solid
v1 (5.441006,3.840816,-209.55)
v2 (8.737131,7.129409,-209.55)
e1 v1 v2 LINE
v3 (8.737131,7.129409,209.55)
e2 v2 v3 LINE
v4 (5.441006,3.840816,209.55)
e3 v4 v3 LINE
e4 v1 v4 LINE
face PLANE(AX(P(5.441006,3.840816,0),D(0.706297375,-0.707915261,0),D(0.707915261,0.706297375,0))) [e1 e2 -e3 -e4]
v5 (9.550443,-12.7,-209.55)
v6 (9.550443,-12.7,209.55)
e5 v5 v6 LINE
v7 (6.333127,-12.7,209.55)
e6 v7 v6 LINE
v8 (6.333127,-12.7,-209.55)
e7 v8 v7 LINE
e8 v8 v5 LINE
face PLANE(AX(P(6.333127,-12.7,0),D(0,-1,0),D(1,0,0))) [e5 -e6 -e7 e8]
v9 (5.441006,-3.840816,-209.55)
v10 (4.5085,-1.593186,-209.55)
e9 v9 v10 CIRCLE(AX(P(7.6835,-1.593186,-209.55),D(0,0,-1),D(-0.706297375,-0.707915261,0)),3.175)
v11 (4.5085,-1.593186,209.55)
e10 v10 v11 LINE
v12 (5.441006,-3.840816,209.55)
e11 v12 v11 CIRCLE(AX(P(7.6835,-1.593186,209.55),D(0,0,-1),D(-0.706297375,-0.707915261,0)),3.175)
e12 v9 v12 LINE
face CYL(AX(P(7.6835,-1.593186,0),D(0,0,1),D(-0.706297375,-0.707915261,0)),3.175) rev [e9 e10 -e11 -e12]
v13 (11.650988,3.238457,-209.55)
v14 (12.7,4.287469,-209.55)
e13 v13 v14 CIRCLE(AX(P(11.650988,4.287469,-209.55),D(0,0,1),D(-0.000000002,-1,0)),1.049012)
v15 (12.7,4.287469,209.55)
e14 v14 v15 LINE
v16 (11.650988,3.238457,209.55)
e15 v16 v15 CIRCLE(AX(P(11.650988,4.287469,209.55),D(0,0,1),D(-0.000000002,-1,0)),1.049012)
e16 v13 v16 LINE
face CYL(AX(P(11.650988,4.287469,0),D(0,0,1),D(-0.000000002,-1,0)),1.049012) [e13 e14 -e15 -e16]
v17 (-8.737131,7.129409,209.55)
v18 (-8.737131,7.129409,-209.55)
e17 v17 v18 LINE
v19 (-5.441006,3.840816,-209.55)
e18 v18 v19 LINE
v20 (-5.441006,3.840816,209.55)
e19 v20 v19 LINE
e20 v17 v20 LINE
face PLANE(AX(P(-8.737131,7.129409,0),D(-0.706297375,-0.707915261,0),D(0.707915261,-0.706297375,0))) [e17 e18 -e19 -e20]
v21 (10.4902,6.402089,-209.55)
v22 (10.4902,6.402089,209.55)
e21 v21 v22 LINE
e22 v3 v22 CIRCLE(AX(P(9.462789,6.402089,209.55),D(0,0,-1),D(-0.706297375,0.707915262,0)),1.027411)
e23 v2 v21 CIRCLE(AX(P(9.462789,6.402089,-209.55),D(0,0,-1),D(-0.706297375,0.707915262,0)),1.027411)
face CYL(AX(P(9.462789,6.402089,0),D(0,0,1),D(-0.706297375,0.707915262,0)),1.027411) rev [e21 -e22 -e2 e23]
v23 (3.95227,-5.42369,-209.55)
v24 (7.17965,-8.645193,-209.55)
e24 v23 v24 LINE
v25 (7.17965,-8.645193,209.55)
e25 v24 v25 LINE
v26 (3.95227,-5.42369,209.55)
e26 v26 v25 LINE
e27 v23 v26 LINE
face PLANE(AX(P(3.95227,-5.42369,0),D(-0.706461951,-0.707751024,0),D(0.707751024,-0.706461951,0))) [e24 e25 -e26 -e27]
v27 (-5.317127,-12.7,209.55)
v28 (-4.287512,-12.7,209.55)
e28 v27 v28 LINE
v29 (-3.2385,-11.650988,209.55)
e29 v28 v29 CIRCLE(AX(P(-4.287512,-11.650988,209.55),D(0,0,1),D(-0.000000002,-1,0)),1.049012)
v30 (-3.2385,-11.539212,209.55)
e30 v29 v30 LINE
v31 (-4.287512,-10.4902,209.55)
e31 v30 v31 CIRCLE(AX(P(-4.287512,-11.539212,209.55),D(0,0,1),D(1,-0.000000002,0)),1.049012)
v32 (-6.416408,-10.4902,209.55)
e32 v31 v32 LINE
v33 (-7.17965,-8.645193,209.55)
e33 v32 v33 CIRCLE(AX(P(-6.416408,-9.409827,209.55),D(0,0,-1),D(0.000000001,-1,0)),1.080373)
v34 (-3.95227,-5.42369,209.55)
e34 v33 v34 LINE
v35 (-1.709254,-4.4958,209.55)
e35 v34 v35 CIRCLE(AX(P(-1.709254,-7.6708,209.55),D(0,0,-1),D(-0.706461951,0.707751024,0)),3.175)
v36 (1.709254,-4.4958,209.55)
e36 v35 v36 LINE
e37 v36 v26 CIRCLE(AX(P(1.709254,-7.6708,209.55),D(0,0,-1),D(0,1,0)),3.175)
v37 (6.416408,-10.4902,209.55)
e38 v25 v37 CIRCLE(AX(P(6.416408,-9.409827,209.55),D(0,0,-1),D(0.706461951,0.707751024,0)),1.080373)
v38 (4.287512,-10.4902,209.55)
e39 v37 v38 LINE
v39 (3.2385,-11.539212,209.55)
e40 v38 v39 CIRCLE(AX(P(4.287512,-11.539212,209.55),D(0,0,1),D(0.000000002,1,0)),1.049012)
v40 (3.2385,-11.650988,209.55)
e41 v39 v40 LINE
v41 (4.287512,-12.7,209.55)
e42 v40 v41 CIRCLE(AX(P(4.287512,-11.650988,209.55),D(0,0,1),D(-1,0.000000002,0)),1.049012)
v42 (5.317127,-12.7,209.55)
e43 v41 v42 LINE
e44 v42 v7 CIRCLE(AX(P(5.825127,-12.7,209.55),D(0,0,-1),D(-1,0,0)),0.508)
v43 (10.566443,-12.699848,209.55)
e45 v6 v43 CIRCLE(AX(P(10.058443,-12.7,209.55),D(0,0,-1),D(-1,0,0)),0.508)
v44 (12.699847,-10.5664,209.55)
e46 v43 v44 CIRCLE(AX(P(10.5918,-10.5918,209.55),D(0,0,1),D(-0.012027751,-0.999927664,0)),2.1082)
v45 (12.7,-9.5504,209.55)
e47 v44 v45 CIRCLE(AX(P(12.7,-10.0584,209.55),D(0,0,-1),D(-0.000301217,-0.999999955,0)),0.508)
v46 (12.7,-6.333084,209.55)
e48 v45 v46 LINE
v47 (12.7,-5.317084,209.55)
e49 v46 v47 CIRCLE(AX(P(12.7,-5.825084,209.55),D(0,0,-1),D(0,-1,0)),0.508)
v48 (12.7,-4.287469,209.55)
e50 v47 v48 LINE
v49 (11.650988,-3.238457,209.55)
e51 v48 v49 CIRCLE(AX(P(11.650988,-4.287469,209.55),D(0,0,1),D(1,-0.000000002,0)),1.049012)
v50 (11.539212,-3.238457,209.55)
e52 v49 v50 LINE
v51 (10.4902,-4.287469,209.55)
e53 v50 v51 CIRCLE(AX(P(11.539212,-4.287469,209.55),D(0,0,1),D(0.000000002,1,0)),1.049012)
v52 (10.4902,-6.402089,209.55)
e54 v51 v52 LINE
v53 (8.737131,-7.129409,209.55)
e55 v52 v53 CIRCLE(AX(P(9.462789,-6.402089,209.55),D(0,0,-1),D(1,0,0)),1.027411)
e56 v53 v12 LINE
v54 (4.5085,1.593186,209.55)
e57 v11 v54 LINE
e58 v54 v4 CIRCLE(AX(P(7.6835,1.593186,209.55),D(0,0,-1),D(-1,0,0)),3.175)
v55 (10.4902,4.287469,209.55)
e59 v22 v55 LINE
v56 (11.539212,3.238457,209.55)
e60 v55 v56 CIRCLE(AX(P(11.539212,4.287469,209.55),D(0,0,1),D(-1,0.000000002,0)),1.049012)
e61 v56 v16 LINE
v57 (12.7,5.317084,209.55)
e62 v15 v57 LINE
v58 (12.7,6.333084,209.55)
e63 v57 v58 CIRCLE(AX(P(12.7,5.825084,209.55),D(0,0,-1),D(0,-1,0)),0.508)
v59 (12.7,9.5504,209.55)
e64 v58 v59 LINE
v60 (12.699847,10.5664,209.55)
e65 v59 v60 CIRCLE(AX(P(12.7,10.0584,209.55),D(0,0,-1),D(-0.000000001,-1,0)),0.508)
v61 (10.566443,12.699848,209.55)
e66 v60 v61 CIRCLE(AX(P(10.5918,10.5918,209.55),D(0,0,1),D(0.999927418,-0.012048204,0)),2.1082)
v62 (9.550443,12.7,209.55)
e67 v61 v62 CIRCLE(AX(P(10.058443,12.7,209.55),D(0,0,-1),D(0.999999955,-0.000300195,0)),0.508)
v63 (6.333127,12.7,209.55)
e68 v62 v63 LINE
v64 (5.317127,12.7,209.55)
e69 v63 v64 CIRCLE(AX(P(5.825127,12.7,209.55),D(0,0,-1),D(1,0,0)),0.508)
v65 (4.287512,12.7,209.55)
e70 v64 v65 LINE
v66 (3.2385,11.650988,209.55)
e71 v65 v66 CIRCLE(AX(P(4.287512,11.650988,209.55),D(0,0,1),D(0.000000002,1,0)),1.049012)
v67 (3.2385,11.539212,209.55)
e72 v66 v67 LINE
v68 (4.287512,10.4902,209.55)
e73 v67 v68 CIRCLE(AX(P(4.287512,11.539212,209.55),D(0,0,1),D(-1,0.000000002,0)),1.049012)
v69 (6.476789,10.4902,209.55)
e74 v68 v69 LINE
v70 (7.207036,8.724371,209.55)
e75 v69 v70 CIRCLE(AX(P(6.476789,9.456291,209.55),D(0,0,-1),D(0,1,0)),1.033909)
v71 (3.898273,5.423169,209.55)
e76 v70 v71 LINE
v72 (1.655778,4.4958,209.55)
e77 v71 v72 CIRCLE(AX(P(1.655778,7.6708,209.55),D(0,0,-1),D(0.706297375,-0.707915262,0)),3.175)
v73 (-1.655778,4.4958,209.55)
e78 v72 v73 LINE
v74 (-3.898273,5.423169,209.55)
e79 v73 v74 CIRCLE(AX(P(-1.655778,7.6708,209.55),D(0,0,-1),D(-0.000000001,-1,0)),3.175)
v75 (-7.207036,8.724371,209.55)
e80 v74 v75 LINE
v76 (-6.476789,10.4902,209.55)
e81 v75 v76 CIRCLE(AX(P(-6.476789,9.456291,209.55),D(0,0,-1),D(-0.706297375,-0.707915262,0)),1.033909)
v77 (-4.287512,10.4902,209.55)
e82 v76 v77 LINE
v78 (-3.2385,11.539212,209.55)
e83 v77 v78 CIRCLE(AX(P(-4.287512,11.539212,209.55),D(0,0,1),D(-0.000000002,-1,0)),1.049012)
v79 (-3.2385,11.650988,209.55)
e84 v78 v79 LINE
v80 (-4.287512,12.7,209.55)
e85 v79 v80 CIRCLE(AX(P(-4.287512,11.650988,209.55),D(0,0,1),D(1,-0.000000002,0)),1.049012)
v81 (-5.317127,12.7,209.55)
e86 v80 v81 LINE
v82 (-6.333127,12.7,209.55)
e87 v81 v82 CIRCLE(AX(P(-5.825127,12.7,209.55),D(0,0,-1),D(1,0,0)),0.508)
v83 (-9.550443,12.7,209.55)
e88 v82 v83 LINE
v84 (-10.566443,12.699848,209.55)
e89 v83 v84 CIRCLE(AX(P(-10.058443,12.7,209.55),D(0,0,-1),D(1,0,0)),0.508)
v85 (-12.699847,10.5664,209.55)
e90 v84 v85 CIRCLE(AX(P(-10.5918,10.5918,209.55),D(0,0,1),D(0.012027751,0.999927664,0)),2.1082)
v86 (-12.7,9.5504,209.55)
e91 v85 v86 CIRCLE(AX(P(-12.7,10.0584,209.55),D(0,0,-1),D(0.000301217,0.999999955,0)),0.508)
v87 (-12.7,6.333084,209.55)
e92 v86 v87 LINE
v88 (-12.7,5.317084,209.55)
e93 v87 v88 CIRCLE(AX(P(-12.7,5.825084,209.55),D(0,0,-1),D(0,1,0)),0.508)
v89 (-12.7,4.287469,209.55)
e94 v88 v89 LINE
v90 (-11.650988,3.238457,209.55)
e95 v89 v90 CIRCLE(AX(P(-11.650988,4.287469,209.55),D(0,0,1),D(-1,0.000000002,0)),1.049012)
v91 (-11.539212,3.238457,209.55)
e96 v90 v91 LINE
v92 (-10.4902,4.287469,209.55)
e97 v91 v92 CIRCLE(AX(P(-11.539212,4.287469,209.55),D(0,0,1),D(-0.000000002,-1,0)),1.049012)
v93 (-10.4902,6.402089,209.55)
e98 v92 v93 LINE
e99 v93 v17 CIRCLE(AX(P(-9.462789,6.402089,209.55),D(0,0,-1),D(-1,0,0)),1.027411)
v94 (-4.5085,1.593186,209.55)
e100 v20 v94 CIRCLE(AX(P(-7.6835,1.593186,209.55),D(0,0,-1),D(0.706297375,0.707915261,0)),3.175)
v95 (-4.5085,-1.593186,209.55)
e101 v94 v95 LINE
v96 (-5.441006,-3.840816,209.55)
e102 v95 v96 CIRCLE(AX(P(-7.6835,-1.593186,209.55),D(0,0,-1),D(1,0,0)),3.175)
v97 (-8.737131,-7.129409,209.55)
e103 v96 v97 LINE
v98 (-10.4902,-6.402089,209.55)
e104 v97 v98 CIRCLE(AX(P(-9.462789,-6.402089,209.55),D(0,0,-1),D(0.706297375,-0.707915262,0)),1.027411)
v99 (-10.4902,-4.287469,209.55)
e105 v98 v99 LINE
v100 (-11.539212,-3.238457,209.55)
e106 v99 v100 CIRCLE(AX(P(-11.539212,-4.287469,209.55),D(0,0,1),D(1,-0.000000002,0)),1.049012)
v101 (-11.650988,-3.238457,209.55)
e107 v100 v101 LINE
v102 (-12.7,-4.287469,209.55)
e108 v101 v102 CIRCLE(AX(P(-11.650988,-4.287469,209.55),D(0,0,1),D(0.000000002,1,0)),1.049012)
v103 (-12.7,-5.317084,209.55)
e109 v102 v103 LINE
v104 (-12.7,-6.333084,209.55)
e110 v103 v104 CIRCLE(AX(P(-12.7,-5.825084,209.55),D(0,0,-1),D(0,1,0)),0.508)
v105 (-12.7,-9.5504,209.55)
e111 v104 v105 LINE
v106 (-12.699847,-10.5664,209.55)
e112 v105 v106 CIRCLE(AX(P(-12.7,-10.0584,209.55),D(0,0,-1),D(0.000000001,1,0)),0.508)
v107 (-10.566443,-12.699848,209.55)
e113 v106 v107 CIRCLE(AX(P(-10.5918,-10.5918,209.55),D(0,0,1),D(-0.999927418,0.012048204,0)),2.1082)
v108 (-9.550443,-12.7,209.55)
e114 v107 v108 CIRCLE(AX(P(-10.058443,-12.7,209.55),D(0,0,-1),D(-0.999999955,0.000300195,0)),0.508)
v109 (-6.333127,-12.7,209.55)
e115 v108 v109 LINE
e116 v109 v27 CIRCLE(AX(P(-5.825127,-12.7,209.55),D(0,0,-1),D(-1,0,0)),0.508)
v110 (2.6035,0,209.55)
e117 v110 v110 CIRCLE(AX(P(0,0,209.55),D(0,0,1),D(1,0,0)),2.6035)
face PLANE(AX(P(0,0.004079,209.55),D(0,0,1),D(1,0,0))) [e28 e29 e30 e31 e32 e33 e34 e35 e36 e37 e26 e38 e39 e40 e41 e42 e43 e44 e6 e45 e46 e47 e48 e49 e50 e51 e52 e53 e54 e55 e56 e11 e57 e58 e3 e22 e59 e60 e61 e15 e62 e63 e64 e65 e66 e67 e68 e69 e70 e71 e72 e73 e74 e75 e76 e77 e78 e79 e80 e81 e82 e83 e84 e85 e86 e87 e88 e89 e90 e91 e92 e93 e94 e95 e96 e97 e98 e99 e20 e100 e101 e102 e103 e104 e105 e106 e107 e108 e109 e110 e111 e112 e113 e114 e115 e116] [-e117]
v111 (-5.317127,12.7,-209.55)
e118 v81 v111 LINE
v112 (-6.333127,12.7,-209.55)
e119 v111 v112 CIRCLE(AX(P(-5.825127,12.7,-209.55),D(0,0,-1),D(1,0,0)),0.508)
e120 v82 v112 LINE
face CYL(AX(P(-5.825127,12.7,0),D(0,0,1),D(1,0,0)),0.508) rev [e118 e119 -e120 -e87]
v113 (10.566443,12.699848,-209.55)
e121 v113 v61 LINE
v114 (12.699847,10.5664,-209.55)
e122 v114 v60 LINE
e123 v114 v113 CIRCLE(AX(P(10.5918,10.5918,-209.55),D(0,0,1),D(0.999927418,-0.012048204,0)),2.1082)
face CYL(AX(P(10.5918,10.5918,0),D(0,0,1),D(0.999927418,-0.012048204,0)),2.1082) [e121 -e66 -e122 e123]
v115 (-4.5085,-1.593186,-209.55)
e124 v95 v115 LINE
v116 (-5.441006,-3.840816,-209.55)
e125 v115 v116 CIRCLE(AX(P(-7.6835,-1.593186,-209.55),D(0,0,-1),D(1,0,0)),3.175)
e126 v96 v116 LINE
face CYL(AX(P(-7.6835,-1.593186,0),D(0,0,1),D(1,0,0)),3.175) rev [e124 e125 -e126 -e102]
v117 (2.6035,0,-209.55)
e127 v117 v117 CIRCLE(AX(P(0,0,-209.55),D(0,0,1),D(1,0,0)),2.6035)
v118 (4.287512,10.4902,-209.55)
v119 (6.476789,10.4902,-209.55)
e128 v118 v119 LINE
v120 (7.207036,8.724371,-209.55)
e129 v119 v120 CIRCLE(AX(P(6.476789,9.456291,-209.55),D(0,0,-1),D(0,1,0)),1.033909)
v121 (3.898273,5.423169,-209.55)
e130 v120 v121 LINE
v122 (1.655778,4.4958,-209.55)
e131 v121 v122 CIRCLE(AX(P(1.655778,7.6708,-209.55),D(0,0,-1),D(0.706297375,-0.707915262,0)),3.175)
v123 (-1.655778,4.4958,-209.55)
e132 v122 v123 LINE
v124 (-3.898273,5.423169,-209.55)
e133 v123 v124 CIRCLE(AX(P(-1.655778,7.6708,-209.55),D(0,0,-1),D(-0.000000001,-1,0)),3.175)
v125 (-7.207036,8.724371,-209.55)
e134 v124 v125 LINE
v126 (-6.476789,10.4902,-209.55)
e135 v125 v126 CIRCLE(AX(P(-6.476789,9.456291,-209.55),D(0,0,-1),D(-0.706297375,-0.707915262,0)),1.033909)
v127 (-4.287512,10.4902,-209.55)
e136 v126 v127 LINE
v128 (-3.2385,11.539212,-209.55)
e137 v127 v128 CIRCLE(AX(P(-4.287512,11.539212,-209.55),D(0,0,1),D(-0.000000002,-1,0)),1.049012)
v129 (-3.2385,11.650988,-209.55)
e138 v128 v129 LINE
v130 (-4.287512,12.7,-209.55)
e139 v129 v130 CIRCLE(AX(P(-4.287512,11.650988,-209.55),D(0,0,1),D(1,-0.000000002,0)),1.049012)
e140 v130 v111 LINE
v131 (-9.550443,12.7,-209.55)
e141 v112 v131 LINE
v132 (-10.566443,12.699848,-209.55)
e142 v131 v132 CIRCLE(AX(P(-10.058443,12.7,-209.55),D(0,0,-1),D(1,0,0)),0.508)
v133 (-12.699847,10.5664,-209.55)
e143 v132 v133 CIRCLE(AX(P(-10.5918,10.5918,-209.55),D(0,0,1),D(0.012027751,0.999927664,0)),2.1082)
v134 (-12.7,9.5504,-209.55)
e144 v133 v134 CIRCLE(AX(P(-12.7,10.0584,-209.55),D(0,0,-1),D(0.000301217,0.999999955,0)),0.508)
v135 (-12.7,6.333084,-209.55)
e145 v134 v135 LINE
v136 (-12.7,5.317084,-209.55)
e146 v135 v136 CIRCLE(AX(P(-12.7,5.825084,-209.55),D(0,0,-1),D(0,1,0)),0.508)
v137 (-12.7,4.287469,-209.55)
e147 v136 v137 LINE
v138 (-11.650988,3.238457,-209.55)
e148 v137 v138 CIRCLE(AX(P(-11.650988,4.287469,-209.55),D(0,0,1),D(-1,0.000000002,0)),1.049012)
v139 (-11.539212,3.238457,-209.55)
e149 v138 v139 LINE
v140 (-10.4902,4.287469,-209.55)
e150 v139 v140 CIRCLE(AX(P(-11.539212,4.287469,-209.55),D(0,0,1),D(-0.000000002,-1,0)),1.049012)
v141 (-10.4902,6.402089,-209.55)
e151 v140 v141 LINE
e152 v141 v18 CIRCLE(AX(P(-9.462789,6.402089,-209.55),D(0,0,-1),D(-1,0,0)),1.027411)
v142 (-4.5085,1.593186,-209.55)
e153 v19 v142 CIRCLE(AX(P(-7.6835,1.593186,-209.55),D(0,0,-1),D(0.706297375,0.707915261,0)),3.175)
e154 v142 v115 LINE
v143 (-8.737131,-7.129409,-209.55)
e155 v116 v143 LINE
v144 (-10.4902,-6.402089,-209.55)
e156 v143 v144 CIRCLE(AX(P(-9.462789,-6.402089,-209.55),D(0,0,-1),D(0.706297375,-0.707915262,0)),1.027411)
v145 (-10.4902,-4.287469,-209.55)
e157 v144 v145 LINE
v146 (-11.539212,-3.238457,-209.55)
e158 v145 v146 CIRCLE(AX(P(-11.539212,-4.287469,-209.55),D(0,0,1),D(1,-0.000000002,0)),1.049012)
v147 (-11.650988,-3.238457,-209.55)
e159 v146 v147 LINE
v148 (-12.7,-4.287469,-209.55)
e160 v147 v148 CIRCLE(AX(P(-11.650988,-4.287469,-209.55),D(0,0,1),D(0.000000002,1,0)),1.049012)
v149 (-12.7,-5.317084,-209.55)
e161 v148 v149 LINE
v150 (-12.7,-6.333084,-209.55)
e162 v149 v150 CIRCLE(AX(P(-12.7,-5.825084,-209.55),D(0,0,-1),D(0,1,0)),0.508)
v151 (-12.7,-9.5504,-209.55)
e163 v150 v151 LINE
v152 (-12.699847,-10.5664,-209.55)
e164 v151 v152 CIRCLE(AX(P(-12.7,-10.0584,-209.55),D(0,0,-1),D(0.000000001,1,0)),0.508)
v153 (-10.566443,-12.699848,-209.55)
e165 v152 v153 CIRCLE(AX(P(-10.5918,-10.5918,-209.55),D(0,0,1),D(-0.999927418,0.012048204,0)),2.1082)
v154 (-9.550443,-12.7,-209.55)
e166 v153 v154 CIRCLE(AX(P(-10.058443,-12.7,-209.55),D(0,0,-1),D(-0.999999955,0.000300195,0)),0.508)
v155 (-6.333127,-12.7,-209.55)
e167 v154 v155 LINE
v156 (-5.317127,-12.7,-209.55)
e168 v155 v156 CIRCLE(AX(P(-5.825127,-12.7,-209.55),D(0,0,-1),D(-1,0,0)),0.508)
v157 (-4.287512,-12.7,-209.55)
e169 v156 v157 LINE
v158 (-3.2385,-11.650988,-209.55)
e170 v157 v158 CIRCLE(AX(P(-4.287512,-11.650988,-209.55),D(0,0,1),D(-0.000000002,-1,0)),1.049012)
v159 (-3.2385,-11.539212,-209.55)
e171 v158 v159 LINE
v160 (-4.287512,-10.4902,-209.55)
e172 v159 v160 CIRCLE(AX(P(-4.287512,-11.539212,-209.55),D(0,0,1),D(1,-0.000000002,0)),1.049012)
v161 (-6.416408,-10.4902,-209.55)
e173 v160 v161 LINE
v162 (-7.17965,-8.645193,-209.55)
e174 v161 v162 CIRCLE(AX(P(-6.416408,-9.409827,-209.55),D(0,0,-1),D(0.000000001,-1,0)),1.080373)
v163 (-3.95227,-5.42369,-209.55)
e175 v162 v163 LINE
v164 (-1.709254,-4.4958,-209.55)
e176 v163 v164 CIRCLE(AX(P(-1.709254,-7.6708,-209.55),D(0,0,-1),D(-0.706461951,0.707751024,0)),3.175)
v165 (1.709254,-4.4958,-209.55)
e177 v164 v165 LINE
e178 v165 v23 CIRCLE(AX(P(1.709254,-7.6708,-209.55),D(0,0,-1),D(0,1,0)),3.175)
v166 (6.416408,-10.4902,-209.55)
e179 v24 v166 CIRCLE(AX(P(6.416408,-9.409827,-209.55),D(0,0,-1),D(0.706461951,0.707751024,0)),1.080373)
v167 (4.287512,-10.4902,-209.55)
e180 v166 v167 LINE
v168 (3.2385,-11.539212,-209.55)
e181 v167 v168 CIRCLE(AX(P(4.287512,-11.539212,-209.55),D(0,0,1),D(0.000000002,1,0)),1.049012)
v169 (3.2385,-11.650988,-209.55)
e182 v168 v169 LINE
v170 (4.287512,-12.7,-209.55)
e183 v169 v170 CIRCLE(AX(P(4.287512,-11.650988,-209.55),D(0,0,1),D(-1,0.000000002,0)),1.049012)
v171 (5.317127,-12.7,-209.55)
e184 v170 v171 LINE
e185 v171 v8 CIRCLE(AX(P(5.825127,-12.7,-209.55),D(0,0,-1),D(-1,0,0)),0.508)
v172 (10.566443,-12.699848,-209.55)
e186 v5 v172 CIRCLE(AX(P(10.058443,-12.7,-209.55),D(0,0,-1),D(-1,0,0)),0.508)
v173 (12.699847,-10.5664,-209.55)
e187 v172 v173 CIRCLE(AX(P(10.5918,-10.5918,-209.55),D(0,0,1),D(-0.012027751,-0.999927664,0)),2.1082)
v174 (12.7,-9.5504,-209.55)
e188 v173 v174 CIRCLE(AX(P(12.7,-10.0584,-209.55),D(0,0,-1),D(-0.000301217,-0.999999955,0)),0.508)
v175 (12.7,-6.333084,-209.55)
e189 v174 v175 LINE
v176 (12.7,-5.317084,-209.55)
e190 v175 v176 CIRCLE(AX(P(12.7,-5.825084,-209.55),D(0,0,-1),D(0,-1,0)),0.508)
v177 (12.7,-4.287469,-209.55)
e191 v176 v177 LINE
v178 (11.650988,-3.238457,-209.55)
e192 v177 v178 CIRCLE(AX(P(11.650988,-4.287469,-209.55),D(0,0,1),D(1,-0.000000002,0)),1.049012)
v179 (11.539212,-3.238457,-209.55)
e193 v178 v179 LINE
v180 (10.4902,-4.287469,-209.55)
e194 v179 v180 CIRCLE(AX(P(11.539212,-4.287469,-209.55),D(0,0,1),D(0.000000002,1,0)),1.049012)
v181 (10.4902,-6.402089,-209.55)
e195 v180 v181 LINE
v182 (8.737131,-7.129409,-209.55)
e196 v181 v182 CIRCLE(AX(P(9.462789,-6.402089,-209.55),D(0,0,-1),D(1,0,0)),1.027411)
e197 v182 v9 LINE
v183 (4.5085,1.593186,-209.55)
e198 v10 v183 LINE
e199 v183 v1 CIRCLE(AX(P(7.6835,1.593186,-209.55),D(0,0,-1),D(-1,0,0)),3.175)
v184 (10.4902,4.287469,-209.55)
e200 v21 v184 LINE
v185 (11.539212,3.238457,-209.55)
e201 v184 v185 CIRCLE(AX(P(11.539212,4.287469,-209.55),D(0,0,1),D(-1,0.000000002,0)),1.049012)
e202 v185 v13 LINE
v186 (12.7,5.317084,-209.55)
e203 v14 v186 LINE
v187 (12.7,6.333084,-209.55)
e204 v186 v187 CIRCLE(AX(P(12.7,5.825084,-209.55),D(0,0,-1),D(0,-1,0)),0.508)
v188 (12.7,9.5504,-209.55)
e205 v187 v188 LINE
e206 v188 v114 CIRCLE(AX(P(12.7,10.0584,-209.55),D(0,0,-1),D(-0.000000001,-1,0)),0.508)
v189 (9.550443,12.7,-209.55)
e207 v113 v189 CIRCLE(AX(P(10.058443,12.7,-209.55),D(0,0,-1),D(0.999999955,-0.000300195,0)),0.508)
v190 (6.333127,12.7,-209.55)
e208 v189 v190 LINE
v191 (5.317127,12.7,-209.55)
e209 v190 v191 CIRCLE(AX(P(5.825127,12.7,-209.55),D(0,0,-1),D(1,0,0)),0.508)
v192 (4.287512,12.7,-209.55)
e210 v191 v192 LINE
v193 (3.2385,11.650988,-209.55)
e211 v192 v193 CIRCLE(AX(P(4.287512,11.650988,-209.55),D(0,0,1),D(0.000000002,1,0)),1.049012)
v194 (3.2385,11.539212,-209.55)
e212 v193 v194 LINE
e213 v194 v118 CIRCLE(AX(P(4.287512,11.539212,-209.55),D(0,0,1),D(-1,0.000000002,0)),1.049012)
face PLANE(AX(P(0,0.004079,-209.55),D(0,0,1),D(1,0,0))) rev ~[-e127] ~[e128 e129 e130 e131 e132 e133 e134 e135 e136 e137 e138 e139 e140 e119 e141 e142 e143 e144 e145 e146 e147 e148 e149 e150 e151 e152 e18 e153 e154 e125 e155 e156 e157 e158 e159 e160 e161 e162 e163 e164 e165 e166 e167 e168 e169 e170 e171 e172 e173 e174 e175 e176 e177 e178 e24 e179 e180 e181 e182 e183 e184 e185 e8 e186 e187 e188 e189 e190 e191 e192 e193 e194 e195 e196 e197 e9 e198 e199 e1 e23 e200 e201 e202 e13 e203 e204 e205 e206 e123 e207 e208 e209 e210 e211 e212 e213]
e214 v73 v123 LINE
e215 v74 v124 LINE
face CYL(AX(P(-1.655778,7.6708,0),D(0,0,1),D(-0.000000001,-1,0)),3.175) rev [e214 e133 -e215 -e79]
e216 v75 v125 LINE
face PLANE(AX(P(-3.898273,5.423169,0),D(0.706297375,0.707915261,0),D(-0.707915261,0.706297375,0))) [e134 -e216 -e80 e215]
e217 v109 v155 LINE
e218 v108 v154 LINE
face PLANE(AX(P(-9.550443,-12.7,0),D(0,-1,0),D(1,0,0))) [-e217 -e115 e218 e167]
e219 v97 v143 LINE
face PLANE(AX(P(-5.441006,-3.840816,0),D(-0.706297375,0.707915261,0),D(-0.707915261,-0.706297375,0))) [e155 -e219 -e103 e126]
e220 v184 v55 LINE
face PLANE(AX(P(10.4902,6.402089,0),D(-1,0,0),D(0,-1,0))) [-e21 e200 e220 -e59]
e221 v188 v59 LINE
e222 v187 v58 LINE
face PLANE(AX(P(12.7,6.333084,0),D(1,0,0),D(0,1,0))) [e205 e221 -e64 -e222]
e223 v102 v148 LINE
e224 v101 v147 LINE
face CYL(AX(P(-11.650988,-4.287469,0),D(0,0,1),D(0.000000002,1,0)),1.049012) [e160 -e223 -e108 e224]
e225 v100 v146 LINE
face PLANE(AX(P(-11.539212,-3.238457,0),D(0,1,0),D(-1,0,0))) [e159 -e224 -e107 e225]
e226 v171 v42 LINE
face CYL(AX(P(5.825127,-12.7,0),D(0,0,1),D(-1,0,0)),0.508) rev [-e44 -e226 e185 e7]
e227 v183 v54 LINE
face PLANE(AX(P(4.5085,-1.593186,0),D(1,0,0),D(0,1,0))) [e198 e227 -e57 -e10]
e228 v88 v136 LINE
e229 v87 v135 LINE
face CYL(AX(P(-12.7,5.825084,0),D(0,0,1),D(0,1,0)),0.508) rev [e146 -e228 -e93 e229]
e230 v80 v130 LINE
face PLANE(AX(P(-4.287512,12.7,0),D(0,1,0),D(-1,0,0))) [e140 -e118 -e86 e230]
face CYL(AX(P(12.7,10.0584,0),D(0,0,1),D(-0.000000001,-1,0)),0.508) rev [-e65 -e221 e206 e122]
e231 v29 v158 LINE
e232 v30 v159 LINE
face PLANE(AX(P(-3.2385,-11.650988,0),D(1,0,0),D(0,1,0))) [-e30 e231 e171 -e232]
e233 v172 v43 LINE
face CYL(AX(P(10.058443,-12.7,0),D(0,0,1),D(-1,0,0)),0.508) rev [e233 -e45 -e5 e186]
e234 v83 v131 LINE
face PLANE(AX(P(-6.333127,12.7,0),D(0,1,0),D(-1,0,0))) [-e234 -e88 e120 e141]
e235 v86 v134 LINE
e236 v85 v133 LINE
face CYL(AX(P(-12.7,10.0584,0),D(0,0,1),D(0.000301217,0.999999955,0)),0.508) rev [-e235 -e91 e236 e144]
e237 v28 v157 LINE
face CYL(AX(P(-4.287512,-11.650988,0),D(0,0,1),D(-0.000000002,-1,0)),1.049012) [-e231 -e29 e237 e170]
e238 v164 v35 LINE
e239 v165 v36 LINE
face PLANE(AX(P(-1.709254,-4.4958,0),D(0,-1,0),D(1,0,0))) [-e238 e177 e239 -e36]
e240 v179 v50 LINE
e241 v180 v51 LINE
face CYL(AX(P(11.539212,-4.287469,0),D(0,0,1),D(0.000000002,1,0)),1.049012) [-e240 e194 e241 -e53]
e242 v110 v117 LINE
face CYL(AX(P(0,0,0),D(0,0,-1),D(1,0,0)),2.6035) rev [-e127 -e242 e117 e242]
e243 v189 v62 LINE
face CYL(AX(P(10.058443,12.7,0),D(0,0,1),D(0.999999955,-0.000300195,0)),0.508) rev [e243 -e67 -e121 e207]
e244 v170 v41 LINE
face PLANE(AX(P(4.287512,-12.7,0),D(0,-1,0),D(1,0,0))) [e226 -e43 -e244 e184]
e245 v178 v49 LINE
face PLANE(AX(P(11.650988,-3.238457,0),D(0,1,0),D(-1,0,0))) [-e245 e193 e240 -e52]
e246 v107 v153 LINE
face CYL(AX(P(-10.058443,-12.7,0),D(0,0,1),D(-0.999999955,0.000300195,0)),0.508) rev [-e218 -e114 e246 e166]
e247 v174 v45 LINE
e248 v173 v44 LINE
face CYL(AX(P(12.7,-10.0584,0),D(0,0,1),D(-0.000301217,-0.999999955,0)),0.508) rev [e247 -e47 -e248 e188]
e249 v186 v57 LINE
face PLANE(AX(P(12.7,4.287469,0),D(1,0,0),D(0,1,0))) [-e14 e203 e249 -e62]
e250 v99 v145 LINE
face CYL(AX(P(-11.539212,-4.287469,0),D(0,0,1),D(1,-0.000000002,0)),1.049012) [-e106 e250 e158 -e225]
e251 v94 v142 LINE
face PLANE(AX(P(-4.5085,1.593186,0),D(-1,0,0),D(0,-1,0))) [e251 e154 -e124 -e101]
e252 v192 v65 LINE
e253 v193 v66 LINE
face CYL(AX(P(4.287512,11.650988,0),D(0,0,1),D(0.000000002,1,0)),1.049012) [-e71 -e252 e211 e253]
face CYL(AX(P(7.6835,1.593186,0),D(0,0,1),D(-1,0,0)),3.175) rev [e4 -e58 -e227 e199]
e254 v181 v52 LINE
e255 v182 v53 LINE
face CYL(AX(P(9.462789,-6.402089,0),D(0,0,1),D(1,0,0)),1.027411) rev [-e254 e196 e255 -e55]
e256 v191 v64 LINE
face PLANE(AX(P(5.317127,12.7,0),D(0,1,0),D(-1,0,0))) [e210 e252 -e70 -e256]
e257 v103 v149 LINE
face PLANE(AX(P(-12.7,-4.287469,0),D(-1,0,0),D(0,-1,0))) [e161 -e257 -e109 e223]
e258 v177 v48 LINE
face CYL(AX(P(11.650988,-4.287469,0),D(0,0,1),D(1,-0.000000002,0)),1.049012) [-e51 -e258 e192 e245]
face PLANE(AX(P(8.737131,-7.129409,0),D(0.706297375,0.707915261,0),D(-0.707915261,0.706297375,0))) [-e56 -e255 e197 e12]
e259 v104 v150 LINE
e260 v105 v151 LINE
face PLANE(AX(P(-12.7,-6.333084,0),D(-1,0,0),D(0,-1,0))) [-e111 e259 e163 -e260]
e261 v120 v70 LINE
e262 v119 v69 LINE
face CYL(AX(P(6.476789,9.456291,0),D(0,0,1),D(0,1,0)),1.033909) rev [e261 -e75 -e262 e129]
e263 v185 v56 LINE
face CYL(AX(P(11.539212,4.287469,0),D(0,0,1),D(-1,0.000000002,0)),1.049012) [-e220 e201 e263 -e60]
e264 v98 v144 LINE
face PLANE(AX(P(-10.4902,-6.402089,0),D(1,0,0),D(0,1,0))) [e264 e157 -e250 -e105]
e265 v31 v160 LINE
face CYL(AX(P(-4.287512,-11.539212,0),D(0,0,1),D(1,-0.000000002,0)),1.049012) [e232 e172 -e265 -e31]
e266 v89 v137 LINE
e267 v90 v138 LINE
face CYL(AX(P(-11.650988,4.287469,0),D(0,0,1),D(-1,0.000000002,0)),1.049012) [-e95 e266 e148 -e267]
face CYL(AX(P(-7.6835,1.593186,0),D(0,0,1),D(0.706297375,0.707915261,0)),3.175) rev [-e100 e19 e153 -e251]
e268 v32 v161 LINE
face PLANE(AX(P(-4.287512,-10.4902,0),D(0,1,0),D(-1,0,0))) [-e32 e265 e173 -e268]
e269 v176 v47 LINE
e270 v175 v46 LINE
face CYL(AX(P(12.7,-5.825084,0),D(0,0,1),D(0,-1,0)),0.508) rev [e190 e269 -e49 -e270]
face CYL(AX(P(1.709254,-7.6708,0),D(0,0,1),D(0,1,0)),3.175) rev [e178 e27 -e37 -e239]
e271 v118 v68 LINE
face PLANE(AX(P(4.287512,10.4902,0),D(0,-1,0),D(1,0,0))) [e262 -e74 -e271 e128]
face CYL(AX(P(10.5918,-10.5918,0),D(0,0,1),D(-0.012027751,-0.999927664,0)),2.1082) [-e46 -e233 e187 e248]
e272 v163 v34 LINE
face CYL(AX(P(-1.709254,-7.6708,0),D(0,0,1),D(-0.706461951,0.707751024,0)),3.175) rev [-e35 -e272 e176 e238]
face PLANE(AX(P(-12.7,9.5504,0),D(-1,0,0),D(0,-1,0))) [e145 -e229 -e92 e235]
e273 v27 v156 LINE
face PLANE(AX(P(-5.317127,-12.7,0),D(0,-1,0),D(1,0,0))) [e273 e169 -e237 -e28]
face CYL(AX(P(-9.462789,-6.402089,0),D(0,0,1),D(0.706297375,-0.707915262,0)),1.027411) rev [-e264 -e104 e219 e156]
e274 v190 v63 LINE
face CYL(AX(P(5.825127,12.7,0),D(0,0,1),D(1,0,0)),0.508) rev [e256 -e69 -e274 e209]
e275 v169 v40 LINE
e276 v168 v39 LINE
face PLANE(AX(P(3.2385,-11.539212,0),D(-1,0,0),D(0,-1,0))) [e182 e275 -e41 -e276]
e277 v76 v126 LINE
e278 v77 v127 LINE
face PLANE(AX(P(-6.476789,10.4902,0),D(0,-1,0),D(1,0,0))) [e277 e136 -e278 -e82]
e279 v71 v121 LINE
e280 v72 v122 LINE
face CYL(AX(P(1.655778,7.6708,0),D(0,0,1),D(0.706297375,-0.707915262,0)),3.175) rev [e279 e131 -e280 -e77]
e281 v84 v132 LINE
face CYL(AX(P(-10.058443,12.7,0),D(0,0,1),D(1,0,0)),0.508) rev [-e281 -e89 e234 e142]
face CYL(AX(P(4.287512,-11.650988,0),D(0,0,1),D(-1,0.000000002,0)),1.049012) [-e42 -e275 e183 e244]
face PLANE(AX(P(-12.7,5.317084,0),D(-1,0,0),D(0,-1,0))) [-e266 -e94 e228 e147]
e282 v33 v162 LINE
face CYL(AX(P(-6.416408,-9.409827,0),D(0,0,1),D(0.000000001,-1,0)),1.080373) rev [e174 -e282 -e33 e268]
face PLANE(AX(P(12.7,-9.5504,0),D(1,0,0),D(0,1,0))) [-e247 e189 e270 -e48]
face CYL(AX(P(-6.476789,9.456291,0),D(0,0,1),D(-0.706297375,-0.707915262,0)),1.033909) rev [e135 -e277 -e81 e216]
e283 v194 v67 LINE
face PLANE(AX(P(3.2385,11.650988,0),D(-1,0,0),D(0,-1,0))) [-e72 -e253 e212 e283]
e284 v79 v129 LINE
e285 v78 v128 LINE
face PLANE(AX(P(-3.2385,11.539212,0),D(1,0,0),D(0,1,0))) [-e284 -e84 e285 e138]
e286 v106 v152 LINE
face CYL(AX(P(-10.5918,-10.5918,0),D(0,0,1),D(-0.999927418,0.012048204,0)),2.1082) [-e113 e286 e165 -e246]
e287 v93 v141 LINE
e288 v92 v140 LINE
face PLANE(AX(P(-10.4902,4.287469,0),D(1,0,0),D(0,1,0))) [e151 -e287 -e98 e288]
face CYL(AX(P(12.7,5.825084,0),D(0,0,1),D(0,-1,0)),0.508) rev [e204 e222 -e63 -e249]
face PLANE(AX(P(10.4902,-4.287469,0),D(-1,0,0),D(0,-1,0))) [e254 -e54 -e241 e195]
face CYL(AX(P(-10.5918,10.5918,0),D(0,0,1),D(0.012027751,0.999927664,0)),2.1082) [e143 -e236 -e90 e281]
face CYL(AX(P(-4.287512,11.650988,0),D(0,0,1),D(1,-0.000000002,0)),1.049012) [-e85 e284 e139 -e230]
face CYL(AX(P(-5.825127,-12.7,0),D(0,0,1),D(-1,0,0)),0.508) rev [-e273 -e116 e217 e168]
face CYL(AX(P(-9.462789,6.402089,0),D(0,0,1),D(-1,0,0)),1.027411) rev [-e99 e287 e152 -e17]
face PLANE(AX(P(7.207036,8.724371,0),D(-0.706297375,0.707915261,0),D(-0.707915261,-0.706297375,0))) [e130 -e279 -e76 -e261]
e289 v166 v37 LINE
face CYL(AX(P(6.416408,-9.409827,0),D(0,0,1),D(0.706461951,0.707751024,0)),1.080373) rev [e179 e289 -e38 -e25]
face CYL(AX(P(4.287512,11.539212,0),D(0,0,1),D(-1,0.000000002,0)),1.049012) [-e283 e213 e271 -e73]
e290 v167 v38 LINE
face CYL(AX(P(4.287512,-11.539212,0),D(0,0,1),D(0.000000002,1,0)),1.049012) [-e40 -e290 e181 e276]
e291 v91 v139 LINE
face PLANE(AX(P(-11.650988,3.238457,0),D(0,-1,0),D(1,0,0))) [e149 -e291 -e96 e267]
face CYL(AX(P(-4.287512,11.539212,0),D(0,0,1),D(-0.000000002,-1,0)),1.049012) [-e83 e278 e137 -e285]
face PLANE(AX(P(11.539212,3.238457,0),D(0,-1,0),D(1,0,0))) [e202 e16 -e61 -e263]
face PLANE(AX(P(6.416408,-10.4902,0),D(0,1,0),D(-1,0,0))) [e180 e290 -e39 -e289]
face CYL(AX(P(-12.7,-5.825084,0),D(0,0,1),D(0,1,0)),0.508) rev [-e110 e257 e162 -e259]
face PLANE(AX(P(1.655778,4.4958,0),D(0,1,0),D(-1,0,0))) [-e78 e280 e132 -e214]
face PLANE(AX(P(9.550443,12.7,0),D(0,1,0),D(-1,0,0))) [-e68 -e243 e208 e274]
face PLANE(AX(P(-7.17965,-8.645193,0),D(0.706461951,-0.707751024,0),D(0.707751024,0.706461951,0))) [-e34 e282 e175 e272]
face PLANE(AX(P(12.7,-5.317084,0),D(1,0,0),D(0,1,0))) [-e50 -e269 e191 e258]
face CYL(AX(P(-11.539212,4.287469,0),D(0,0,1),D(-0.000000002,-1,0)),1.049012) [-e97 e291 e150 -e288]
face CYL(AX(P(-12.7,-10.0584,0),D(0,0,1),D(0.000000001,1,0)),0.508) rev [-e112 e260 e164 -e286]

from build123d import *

# Parameters (mm, degrees)
SKETCH1_R           = 2.6035
BOSS_EXTRUDE1_DEPTH = 209.55


with BuildPart() as part:
    # Sketch1 → Boss-Extrude1 (new body, symmetric)
    with BuildSketch(Plane.XY):
        with BuildLine():
            Line((-7.179650497, -8.645192506), (-3.952270251, -5.423690499))
            ThreePointArc((-3.952270251, -5.423690499), (-2.922936451, -4.736929036), (-1.709253557, -4.4958))
            Line((-1.709253557, -4.4958), (1.709253557, -4.4958))
            ThreePointArc((1.709253557, -4.4958), (2.922936451, -4.736929036), (3.952270251, -5.423690499))
            Line((3.952270251, -5.423690499), (7.179650497, -8.645192506))
            ThreePointArc((7.179650497, -8.645192506), (7.41473083, -9.822813117), (6.416408329, -10.4902))
            Line((6.416408329, -10.4902), (4.287512407, -10.4902))
            ThreePointArc((4.287512407, -10.4902), (3.54574862, -10.79744862), (3.2385, -11.539212407))
            Line((3.2385, -11.539212407), (3.2385, -11.650987593))
            ThreePointArc((3.2385, -11.650987593), (3.54574862, -12.39275138), (4.287512407, -12.7))
            Line((4.287512407, -12.7), (5.317126718, -12.7))
            ThreePointArc((5.317126718, -12.7), (5.825126718, -12.192), (6.333126718, -12.7))
            Line((6.333126718, -12.7), (9.550443118, -12.7))
            ThreePointArc((9.550443118, -12.7), (10.058366869, -12.192000006), (10.566443095, -12.699847501))
            ThreePointArc((10.566443095, -12.699847501), (12.082537762, -12.08250727), (12.699846982, -10.566399977))
            ThreePointArc((12.699846982, -10.566399977), (12.192000006, -10.058323491), (12.7, -9.5504))
            Line((12.7, -9.5504), (12.7, -6.3330836))
            ThreePointArc((12.7, -6.3330836), (12.192, -5.8250836), (12.7, -5.3170836))
            Line((12.7, -5.3170836), (12.7, -4.287469289))
            ThreePointArc((12.7, -4.287469289), (12.39275138, -3.545705502), (11.650987593, -3.238456882))
            Line((11.650987593, -3.238456882), (11.539212407, -3.238456882))
            ThreePointArc((11.539212407, -3.238456882), (10.79744862, -3.545705502), (10.4902, -4.287469289))
            Line((10.4902, -4.287469289), (10.4902, -6.402089023))
            ThreePointArc((10.4902, -6.402089023), (9.856505071, -7.351067942), (8.737131347, -7.129408934))
            Line((8.737131347, -7.129408934), (5.441005833, -3.840816462))
            ThreePointArc((5.441005833, -3.840816462), (4.750877967, -2.809883091), (4.5085, -1.593185507))
            Line((4.5085, -1.593185507), (4.5085, 1.593185507))
            ThreePointArc((4.5085, 1.593185507), (4.750877967, 2.809883091), (5.441005833, 3.840816462))
            Line((5.441005833, 3.840816462), (8.737131347, 7.129408934))
            ThreePointArc((8.737131347, 7.129408934), (9.856505071, 7.351067942), (10.4902, 6.402089023))
            Line((10.4902, 6.402089023), (10.4902, 4.287469289))
            ThreePointArc((10.4902, 4.287469289), (10.79744862, 3.545705502), (11.539212407, 3.238456882))
            Line((11.539212407, 3.238456882), (11.650987593, 3.238456882))
            ThreePointArc((11.650987593, 3.238456882), (12.39275138, 3.545705502), (12.7, 4.287469289))
            Line((12.7, 4.287469289), (12.7, 5.3170836))
            ThreePointArc((12.7, 5.3170836), (12.192, 5.8250836), (12.7, 6.3330836))
            Line((12.7, 6.3330836), (12.7, 9.5504))
            ThreePointArc((12.7, 9.5504), (12.192000006, 10.058323491), (12.699846982, 10.566399977))
            ThreePointArc((12.699846982, 10.566399977), (12.082537762, 12.08250727), (10.566443095, 12.699847501))
            ThreePointArc((10.566443095, 12.699847501), (10.058366869, 12.192000006), (9.550443118, 12.7))
            Line((9.550443118, 12.7), (6.333126718, 12.7))
            ThreePointArc((6.333126718, 12.7), (5.825126718, 12.192), (5.317126718, 12.7))
            Line((5.317126718, 12.7), (4.287512407, 12.7))
            ThreePointArc((4.287512407, 12.7), (3.54574862, 12.39275138), (3.2385, 11.650987593))
            Line((3.2385, 11.650987593), (3.2385, 11.539212407))
            ThreePointArc((3.2385, 11.539212407), (3.54574862, 10.79744862), (4.287512407, 10.4902))
            Line((4.287512407, 10.4902), (6.476788598, 10.4902))
            ThreePointArc((6.476788598, 10.4902), (7.432222385, 9.85140422), (7.207036008, 8.724370562))
            Line((7.207036008, 8.724370562), (3.898272566, 5.423169045))
            ThreePointArc((3.898272566, 5.423169045), (2.869120213, 4.736787962), (1.655778399, 4.4958))
            Line((1.655778399, 4.4958), (-1.655778399, 4.4958))
            ThreePointArc((-1.655778399, 4.4958), (-2.869120213, 4.736787962), (-3.898272566, 5.423169045))
            Line((-3.898272566, 5.423169045), (-7.207036008, 8.724370562))
            ThreePointArc((-7.207036008, 8.724370562), (-7.432222385, 9.85140422), (-6.476788598, 10.4902))
            Line((-6.476788598, 10.4902), (-4.287512407, 10.4902))
            ThreePointArc((-4.287512407, 10.4902), (-3.54574862, 10.79744862), (-3.2385, 11.539212407))
            Line((-3.2385, 11.539212407), (-3.2385, 11.650987593))
            ThreePointArc((-3.2385, 11.650987593), (-3.54574862, 12.39275138), (-4.287512407, 12.7))
            Line((-4.287512407, 12.7), (-5.317126718, 12.7))
            ThreePointArc((-5.317126718, 12.7), (-5.825126718, 12.192), (-6.333126718, 12.7))
            Line((-6.333126718, 12.7), (-9.550443118, 12.7))
            ThreePointArc((-9.550443118, 12.7), (-10.058366869, 12.192000006), (-10.566443095, 12.699847501))
            ThreePointArc((-10.566443095, 12.699847501), (-12.082537762, 12.08250727), (-12.699846982, 10.566399977))
            ThreePointArc((-12.699846982, 10.566399977), (-12.192000006, 10.058323491), (-12.7, 9.5504))
            Line((-12.7, 9.5504), (-12.7, 6.3330836))
            ThreePointArc((-12.7, 6.3330836), (-12.192, 5.8250836), (-12.7, 5.3170836))
            Line((-12.7, 5.3170836), (-12.7, 4.287469289))
            ThreePointArc((-12.7, 4.287469289), (-12.39275138, 3.545705502), (-11.650987593, 3.238456882))
            Line((-11.650987593, 3.238456882), (-11.539212407, 3.238456882))
            ThreePointArc((-11.539212407, 3.238456882), (-10.79744862, 3.545705502), (-10.4902, 4.287469289))
            Line((-10.4902, 4.287469289), (-10.4902, 6.402089023))
            ThreePointArc((-10.4902, 6.402089023), (-9.856505071, 7.351067942), (-8.737131347, 7.129408934))
            Line((-8.737131347, 7.129408934), (-5.441005833, 3.840816462))
            ThreePointArc((-5.441005833, 3.840816462), (-4.750877967, 2.809883091), (-4.5085, 1.593185507))
            Line((-4.5085, 1.593185507), (-4.5085, -1.593185507))
            ThreePointArc((-4.5085, -1.593185507), (-4.750877967, -2.809883091), (-5.441005833, -3.840816462))
            Line((-5.441005833, -3.840816462), (-8.737131347, -7.129408934))
            ThreePointArc((-8.737131347, -7.129408934), (-9.856505071, -7.351067942), (-10.4902, -6.402089023))
            Line((-10.4902, -6.402089023), (-10.4902, -4.287469289))
            ThreePointArc((-10.4902, -4.287469289), (-10.79744862, -3.545705502), (-11.539212407, -3.238456882))
            Line((-11.539212407, -3.238456882), (-11.650987593, -3.238456882))
            ThreePointArc((-11.650987593, -3.238456882), (-12.39275138, -3.545705502), (-12.7, -4.287469289))
            Line((-12.7, -4.287469289), (-12.7, -5.3170836))
            ThreePointArc((-12.7, -5.3170836), (-12.192, -5.8250836), (-12.7, -6.3330836))
            Line((-12.7, -6.3330836), (-12.7, -9.5504))
            ThreePointArc((-12.7, -9.5504), (-12.192000006, -10.058323491), (-12.699846982, -10.566399977))
            ThreePointArc((-12.699846982, -10.566399977), (-12.082537762, -12.08250727), (-10.566443095, -12.699847501))
            ThreePointArc((-10.566443095, -12.699847501), (-10.058366869, -12.192000006), (-9.550443118, -12.7))
            Line((-9.550443118, -12.7), (-6.333126718, -12.7))
            ThreePointArc((-6.333126718, -12.7), (-5.825126718, -12.192), (-5.317126718, -12.7))
            Line((-5.317126718, -12.7), (-4.287512407, -12.7))
            ThreePointArc((-4.287512407, -12.7), (-3.54574862, -12.39275138), (-3.2385, -11.650987593))
            Line((-3.2385, -11.650987593), (-3.2385, -11.539212407))
            ThreePointArc((-3.2385, -11.539212407), (-3.54574862, -10.79744862), (-4.287512407, -10.4902))
            Line((-4.287512407, -10.4902), (-6.416408329, -10.4902))
            ThreePointArc((-6.416408329, -10.4902), (-7.41473083, -9.822813117), (-7.179650497, -8.645192506))
        make_face()
        Circle(SKETCH1_R, mode=Mode.SUBTRACT)
    extrude(amount=BOSS_EXTRUDE1_DEPTH, both=True)


solid = part.part
